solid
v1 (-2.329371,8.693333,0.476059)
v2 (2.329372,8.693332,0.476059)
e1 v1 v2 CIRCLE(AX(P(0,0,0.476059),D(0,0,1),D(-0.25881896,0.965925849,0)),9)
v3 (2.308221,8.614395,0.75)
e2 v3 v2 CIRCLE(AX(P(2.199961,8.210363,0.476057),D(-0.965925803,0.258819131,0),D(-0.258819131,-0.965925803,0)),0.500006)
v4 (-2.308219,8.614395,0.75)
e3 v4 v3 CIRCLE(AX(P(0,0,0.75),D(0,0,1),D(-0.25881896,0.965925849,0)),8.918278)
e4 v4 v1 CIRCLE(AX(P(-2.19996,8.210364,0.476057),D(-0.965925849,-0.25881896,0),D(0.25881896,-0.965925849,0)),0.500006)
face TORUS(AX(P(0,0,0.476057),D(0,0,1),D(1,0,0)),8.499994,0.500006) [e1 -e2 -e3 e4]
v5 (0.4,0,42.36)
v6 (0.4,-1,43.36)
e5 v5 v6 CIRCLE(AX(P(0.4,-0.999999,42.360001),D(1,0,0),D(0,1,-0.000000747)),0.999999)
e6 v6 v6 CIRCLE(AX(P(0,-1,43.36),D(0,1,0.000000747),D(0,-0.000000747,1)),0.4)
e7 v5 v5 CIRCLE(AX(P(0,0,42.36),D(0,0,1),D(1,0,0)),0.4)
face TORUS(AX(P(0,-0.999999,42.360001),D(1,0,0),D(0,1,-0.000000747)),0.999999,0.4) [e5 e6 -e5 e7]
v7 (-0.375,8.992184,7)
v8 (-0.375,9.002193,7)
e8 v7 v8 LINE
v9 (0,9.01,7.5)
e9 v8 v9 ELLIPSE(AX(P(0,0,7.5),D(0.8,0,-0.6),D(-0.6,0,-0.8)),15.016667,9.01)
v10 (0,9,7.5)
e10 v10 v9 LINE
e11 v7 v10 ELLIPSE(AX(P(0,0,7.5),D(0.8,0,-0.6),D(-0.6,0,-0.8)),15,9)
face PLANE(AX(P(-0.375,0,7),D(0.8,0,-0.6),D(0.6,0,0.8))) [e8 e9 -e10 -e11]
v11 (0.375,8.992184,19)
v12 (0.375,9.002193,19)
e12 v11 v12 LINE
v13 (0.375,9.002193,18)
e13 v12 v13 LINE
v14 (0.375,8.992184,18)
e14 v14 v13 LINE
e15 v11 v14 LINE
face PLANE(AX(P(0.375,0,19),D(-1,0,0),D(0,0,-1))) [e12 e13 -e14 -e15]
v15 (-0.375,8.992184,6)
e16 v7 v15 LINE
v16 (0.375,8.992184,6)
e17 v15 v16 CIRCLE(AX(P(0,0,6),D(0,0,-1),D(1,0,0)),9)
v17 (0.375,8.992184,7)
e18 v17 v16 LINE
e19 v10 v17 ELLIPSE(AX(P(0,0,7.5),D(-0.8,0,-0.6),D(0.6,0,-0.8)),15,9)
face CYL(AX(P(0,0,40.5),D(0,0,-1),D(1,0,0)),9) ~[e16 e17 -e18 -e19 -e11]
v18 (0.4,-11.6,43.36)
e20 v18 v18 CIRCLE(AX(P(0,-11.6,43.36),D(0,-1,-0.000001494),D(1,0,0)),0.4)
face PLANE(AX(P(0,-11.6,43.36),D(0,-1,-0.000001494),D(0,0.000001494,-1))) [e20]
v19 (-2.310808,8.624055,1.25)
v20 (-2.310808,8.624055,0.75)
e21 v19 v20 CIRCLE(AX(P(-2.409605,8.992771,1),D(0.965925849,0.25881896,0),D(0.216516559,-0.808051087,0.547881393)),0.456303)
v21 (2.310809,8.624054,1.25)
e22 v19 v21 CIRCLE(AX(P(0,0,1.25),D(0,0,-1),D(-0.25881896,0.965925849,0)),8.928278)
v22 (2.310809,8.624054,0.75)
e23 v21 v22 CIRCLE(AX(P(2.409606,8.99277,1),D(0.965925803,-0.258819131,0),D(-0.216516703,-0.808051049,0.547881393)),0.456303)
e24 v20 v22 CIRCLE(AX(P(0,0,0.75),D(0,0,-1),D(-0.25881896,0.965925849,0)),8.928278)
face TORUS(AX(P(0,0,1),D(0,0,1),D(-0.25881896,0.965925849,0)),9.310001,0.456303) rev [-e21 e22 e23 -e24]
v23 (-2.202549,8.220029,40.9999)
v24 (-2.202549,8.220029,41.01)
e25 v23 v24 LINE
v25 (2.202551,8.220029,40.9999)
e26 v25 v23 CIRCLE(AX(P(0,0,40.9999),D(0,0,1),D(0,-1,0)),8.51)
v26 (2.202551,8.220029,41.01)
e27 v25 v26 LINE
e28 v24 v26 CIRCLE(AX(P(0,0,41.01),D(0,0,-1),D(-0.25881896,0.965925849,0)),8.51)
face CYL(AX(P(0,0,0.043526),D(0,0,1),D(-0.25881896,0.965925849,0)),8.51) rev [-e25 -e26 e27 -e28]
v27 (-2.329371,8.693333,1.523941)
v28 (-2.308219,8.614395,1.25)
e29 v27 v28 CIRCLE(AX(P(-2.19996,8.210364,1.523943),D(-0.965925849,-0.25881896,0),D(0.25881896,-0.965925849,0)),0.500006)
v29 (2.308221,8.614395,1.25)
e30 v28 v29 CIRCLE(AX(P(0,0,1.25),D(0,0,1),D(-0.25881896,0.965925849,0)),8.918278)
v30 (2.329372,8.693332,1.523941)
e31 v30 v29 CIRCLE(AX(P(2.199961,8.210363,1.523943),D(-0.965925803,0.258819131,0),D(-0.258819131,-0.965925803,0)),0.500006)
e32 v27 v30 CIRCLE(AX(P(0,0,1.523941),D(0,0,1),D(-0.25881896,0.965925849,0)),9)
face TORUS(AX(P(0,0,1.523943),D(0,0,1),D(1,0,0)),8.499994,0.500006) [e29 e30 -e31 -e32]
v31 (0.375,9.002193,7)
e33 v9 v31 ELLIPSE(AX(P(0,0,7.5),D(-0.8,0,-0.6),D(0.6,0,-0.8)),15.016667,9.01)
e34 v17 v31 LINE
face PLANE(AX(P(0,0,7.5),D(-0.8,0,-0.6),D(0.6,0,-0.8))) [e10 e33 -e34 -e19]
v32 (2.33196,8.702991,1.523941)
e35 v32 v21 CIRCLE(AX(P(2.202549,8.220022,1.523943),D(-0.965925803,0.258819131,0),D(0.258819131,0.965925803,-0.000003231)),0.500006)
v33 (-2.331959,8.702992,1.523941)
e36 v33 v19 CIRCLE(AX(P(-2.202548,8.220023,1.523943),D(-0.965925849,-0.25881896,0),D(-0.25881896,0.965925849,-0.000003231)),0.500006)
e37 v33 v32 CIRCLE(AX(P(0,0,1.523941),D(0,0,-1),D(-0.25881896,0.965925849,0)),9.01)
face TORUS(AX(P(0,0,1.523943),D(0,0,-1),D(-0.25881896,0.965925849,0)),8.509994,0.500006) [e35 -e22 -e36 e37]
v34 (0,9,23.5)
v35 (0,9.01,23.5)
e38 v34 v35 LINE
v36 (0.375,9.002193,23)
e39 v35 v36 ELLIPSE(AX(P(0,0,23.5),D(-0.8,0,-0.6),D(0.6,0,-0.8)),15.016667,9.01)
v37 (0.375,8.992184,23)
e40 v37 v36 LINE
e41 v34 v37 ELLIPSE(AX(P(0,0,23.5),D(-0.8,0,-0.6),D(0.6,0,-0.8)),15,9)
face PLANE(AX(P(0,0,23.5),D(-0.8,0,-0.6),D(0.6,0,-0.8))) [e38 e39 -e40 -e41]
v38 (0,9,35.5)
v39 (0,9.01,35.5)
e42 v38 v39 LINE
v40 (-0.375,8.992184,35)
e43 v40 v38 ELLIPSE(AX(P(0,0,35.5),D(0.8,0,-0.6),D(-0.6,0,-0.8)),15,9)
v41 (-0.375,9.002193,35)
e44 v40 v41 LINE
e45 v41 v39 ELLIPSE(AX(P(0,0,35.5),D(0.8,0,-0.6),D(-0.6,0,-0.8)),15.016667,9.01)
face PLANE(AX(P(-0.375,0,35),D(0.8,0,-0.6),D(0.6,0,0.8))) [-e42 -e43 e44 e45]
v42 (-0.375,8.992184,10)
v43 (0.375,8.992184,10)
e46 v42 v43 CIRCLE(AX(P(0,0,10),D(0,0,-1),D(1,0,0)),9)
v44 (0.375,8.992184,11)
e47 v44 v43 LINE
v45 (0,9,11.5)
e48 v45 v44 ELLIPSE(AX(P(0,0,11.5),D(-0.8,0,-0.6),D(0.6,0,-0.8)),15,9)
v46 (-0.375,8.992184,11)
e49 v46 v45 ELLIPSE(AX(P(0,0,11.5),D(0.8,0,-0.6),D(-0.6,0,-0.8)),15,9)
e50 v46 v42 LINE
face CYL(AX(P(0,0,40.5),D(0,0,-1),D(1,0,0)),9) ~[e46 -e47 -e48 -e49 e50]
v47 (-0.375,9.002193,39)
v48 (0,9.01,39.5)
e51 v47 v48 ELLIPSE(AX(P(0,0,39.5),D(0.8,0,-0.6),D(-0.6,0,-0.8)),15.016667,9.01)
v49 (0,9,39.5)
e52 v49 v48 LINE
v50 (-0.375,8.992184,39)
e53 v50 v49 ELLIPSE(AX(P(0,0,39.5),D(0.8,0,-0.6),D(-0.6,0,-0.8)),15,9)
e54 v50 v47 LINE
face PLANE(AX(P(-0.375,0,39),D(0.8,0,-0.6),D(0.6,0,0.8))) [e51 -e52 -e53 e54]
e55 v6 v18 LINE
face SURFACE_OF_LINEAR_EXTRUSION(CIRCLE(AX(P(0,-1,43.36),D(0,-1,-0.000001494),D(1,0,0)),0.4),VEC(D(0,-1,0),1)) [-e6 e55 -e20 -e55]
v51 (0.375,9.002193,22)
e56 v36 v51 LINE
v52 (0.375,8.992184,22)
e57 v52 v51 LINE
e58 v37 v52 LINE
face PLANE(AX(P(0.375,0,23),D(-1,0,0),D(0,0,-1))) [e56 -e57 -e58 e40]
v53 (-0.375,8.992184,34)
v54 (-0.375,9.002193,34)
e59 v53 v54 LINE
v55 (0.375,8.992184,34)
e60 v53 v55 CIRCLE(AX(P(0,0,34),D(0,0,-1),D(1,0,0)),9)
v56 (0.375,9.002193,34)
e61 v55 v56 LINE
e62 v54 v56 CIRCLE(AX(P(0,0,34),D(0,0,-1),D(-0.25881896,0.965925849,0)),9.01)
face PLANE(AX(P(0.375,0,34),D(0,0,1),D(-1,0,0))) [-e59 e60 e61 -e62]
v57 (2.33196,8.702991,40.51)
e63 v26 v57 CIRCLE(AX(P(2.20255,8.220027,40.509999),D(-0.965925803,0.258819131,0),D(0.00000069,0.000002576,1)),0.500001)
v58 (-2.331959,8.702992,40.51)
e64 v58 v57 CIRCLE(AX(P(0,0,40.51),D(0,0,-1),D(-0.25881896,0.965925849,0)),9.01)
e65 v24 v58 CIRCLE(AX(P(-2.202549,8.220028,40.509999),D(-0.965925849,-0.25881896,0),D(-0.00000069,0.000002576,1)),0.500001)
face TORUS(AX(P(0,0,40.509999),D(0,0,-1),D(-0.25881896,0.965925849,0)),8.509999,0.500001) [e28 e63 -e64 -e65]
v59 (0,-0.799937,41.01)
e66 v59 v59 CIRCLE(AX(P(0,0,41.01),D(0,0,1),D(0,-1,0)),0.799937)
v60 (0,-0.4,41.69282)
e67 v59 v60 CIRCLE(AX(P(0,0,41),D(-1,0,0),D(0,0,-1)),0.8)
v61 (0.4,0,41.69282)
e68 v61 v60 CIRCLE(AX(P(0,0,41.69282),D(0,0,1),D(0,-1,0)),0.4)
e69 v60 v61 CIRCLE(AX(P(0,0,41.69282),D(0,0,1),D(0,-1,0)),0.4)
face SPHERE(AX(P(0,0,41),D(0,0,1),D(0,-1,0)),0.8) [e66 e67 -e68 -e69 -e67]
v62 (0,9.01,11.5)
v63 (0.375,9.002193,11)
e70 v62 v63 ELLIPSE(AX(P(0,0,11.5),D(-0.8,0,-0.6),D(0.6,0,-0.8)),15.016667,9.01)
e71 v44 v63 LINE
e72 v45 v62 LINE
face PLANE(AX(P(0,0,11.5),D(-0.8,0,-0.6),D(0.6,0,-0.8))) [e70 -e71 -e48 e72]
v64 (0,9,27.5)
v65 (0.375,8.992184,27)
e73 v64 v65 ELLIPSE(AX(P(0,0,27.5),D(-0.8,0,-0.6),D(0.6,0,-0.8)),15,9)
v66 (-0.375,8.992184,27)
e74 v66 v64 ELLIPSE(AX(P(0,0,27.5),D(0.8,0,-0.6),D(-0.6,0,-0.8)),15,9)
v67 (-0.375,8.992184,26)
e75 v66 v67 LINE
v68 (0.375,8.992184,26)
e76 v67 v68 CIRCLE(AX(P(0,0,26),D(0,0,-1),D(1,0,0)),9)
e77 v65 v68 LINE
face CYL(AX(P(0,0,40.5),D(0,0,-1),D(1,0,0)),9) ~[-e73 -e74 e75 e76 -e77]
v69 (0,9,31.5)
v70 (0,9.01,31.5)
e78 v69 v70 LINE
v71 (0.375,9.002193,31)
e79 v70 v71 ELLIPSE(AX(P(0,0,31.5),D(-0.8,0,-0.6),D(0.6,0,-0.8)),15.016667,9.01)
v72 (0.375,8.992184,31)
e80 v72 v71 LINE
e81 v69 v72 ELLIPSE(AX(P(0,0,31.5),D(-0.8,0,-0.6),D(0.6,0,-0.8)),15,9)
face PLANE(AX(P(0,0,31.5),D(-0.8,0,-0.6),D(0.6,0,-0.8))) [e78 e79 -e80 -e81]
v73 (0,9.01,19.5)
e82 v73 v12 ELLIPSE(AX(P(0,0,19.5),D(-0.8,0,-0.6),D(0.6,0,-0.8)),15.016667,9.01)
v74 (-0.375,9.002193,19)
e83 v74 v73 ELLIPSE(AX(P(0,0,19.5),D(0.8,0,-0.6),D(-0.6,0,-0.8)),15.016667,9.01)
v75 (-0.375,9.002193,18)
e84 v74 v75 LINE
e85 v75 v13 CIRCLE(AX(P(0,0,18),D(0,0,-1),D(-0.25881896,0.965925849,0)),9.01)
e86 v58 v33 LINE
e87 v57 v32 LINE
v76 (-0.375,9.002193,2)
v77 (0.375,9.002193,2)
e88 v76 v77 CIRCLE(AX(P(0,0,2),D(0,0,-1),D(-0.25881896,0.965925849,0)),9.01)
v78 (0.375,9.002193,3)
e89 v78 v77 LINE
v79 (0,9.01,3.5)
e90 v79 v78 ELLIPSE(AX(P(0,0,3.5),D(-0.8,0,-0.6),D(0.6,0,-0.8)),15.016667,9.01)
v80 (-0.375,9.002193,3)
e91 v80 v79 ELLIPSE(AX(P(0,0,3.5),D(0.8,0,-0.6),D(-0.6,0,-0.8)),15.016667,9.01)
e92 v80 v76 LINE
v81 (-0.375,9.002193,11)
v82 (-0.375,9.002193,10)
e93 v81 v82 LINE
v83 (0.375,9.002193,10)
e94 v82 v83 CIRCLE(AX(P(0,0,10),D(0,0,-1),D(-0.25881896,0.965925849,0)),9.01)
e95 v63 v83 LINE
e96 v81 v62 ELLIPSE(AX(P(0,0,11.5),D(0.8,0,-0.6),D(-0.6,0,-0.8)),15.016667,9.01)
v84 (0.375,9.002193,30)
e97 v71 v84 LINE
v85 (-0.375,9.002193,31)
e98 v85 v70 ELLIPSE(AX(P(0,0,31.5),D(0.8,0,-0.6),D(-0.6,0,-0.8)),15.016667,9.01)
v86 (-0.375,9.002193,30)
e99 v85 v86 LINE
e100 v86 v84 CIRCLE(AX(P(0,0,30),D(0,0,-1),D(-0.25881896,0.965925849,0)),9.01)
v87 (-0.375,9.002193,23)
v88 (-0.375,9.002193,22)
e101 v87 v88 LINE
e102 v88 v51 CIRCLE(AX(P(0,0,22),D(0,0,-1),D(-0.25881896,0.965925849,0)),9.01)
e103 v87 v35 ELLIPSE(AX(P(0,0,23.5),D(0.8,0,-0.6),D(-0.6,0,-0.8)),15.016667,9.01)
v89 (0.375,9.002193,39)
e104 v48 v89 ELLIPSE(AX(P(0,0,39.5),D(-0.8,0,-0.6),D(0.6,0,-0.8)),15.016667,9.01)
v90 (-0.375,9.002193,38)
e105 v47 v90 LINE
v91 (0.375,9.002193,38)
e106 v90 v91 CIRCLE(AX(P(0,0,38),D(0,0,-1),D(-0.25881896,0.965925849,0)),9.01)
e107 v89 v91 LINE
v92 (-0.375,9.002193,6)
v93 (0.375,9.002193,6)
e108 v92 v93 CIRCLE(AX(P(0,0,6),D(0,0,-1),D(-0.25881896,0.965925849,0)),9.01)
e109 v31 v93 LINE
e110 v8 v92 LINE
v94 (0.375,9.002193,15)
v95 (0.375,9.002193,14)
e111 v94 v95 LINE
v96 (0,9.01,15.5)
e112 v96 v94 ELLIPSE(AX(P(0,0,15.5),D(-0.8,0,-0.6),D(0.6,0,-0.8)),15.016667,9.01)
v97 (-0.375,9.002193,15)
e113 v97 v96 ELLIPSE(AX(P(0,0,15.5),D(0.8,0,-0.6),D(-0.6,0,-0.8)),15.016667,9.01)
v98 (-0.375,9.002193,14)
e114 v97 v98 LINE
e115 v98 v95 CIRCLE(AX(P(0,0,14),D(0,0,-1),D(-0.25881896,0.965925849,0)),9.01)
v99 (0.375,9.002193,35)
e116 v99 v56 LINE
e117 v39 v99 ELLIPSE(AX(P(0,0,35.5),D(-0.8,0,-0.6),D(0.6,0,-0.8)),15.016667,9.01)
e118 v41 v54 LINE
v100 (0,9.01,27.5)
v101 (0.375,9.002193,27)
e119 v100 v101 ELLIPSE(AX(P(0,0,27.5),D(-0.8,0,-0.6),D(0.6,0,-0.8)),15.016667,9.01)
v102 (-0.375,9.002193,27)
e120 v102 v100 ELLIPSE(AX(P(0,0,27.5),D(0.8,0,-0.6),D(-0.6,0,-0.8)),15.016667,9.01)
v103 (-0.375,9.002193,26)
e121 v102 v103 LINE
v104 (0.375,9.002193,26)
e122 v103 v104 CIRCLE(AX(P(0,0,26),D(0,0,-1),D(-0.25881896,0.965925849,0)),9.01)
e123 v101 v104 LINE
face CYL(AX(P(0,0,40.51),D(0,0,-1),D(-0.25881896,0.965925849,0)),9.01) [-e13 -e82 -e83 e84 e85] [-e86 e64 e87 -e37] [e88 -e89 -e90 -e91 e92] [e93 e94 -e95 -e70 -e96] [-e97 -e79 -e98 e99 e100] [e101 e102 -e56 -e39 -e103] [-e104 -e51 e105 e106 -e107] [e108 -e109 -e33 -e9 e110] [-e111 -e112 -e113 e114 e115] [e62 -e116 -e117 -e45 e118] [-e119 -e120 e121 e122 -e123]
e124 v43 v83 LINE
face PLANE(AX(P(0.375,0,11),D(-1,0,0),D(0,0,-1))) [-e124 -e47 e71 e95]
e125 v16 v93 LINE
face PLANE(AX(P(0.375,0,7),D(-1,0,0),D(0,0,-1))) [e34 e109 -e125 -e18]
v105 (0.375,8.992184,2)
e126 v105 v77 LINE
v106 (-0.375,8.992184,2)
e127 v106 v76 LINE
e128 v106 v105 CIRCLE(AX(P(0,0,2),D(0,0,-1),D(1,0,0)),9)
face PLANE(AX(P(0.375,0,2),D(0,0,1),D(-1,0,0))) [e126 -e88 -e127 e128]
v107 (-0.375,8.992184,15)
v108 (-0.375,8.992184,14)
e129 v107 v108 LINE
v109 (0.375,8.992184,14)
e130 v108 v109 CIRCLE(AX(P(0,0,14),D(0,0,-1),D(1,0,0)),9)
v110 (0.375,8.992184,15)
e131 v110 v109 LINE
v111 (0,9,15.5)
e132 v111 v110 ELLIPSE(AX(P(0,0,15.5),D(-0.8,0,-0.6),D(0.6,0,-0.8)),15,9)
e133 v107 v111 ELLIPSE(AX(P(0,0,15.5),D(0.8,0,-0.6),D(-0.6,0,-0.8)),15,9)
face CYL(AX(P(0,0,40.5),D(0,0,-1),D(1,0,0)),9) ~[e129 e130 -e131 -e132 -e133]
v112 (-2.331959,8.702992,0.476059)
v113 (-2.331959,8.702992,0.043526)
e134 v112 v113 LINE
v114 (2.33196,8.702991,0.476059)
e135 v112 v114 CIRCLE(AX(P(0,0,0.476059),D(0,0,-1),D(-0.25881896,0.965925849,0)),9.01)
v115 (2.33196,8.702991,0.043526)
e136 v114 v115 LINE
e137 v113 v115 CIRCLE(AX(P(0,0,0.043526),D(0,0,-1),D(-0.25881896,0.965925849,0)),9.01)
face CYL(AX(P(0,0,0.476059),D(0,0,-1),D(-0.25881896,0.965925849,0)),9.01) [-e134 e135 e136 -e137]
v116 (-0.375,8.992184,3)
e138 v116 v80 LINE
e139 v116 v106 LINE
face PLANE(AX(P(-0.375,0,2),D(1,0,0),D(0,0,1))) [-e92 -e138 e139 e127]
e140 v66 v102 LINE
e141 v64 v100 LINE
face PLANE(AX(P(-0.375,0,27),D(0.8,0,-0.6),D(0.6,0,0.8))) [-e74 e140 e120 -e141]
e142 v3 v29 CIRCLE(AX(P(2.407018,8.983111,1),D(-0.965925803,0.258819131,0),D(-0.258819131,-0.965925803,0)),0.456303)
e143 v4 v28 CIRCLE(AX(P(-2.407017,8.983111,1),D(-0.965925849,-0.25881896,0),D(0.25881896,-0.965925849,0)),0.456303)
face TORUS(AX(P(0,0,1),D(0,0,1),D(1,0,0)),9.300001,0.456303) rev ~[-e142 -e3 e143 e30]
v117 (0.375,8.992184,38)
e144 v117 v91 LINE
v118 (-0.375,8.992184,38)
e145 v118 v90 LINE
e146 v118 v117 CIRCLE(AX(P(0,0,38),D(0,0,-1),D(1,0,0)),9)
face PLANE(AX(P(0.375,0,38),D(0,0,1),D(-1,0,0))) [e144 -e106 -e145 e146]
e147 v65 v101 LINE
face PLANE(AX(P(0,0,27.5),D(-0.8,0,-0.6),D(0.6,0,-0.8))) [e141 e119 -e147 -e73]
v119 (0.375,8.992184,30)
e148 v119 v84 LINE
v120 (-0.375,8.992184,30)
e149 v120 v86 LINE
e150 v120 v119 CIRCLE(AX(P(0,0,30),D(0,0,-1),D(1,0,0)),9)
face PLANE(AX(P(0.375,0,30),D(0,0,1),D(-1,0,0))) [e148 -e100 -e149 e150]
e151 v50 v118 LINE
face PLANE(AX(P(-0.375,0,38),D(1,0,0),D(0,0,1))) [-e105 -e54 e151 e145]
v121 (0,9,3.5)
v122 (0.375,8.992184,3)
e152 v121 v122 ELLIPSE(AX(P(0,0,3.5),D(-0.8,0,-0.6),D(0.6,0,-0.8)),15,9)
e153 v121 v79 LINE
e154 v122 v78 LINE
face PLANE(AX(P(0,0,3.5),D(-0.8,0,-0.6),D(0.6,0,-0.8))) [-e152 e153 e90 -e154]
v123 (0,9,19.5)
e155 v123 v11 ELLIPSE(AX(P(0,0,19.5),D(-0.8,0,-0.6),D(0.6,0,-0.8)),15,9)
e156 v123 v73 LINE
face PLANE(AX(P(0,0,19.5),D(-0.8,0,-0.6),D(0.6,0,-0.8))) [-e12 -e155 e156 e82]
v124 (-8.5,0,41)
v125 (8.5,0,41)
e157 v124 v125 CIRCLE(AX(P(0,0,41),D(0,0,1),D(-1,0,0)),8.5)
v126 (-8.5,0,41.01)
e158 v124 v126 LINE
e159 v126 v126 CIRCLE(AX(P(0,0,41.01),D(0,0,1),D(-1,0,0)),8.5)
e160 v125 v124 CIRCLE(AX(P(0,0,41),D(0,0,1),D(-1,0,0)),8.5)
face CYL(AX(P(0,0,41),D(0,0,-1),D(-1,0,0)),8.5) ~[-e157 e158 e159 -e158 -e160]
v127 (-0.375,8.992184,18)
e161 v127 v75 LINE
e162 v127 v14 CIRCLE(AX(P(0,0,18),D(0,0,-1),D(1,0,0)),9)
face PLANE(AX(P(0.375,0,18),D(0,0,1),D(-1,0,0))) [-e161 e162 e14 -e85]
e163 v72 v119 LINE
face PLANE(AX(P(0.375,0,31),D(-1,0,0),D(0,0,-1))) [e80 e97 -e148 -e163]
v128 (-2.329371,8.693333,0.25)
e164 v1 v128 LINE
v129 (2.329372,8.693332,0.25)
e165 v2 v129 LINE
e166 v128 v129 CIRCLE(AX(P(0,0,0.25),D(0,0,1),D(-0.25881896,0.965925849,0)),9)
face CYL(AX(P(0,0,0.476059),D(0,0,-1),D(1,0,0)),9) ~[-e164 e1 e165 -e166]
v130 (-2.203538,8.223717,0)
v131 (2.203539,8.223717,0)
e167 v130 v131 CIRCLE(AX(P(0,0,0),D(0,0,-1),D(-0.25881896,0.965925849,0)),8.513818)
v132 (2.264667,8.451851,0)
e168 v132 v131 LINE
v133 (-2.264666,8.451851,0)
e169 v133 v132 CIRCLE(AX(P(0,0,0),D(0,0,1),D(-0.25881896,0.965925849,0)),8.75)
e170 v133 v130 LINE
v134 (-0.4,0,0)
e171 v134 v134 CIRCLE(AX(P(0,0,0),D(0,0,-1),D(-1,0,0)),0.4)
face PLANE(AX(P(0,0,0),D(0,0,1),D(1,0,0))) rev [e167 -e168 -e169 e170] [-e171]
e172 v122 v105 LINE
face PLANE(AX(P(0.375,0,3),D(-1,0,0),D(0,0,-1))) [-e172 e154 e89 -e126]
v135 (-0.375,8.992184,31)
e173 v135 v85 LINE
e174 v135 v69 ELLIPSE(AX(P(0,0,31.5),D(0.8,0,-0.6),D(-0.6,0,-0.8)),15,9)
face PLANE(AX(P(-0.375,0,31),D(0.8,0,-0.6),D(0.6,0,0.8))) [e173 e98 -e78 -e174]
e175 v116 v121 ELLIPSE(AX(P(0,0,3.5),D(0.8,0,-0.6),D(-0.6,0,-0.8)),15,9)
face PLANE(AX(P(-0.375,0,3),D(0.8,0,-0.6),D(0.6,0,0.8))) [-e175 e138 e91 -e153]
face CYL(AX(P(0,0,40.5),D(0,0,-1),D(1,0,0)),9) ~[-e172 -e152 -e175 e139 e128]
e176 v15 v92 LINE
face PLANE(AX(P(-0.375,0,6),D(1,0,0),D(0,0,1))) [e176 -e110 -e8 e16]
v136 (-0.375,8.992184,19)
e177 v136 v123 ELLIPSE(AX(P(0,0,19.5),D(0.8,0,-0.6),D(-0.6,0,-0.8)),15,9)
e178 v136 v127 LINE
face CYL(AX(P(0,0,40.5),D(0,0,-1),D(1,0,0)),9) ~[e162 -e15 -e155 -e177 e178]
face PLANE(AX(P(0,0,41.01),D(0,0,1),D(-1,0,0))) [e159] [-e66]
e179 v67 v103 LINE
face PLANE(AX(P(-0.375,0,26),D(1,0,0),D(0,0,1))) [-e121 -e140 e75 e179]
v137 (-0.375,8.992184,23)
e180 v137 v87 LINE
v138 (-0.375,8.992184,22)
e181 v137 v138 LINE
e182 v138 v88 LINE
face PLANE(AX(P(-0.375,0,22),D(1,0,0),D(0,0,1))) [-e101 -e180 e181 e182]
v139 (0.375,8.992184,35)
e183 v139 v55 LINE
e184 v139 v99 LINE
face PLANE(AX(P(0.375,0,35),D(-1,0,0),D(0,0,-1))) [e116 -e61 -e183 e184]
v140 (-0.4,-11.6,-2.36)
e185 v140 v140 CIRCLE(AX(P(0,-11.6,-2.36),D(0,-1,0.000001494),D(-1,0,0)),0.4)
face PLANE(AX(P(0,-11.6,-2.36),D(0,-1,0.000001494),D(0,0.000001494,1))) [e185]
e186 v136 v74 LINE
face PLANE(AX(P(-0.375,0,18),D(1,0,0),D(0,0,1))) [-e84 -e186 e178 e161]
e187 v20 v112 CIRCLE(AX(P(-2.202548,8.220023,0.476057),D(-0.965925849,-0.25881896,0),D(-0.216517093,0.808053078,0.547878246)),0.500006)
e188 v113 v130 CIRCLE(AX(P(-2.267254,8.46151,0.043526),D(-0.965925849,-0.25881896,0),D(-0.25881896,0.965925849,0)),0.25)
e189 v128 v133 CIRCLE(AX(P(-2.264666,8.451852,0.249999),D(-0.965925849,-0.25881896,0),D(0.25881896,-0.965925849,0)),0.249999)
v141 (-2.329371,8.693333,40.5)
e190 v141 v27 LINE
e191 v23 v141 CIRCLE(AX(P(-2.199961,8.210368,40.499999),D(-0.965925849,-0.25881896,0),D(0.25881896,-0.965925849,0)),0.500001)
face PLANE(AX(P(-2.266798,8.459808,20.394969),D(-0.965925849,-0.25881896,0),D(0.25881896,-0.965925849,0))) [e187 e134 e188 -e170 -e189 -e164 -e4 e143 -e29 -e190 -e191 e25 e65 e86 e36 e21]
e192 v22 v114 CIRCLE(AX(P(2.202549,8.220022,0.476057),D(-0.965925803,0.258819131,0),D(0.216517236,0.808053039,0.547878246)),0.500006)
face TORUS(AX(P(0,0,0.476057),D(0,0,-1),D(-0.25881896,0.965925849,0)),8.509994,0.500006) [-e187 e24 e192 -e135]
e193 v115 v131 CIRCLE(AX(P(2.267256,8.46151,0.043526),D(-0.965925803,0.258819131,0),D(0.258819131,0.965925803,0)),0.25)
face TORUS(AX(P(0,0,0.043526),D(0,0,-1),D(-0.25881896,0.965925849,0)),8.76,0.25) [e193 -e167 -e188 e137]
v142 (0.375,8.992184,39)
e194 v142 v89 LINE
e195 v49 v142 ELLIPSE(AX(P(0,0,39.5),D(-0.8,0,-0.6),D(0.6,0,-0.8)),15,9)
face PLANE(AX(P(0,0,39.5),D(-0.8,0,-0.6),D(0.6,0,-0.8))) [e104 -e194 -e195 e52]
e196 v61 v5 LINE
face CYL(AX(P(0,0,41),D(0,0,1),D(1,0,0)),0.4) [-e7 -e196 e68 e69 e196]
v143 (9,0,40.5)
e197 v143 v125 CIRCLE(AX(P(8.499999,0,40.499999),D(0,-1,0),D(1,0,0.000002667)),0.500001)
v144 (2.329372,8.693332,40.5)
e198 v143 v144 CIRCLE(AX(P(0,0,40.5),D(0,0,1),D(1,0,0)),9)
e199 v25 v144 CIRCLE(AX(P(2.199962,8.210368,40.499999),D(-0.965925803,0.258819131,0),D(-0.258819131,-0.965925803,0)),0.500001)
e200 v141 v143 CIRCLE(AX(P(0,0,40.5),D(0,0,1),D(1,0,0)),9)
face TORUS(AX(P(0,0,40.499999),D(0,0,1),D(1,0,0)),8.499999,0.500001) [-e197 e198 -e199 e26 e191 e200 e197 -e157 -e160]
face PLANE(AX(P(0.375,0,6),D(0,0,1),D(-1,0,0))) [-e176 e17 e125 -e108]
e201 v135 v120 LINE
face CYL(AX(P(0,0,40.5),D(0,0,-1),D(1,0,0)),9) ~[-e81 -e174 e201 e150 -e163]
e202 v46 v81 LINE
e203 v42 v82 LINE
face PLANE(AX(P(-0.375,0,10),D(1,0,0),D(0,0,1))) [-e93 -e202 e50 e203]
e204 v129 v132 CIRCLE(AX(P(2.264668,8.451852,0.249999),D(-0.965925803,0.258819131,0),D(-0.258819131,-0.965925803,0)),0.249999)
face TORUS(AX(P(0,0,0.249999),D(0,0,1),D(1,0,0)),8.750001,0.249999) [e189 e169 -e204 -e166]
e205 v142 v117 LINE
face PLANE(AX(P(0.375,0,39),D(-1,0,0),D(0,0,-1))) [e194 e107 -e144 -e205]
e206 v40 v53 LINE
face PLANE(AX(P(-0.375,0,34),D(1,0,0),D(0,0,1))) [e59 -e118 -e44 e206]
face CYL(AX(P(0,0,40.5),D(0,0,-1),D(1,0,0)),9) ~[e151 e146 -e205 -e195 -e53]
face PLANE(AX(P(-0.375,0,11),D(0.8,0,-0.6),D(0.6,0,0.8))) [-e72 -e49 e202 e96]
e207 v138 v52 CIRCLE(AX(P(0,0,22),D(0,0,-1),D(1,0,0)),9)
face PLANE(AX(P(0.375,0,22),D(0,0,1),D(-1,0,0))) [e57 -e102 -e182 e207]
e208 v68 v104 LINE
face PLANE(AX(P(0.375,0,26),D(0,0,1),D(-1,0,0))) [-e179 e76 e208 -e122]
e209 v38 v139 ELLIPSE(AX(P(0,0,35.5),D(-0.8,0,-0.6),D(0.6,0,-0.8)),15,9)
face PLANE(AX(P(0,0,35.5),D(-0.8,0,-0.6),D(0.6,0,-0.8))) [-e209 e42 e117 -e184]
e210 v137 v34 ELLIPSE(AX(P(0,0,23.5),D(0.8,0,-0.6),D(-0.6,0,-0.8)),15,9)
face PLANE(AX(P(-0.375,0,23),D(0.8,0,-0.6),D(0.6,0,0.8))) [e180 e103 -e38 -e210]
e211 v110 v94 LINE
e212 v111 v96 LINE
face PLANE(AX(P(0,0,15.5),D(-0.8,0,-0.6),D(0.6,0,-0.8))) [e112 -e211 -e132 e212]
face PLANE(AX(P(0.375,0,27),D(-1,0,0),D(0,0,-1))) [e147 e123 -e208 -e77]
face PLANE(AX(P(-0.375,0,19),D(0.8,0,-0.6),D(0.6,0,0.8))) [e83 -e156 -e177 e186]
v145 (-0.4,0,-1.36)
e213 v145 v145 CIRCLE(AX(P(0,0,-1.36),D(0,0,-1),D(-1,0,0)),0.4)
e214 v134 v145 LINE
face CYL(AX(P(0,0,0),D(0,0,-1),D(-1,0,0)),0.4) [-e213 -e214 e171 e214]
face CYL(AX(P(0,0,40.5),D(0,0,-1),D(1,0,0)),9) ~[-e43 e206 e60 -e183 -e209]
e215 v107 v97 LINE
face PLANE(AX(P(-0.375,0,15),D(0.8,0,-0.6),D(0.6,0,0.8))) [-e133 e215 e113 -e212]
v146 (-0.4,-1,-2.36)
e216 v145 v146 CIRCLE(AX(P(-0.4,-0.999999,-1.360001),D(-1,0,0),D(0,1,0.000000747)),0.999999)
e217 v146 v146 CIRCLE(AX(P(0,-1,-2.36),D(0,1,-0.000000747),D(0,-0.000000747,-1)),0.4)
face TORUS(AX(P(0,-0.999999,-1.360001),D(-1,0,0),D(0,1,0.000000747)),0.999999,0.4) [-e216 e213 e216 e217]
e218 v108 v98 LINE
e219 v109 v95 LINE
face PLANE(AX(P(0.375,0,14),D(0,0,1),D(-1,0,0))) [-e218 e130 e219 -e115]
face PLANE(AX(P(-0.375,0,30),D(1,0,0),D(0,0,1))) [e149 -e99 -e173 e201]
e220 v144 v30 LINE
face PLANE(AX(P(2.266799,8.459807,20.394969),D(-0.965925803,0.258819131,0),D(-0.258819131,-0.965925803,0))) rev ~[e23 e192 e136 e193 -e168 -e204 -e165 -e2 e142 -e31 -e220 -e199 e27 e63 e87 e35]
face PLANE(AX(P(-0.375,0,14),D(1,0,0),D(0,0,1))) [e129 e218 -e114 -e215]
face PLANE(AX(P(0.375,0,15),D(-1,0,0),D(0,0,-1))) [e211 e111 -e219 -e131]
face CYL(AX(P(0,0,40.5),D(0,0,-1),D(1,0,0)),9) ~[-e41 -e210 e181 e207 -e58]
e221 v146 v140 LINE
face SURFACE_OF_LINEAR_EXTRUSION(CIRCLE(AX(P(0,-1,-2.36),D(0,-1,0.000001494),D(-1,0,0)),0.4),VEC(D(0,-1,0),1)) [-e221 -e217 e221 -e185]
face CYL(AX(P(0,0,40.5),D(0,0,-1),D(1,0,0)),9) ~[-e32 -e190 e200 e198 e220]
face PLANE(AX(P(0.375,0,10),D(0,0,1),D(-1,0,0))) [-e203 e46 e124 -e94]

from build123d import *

# Parameters (mm, degrees)
SKETCH011_R             = 0.4
BODY007_PLACEMENT_ANGLE = 180
REVOLUTION001_ANGLE     = -30
POCKET_DEPTH            = 9.011
LINEARPATTERN_COUNT     = 10
LINEARPATTERN_PITCH     = 4
SKETCH012_R             = 8.5
PAD_DEPTH               = 0.01
BODY008_PLACEMENT_ANGLE = 90


with BuildPart() as lead:
    # AdditivePipe: sweep along a path in Sketch010
    with BuildLine(Plane(origin=(0, 0, 0), x_dir=(0, -1, 0), z_dir=(-1, 0, 0))) as additivepipe_path:
        Line((0, 41), (0, 42.36))
        ThreePointArc((0, 42.36), (0.292893, 43.067107), (1, 43.36))
        Line((1, 43.36), (11.6, 43.36))
    # Sketch011 → AdditivePipe (sweep)
    with BuildSketch(Plane.XY.offset(41)):
        Circle(SKETCH011_R)
    sweep(path=additivepipe_path.line)


with BuildPart() as leadclone:
    # Body007 base: copy of Lead
    add(lead.part)


with BuildPart() as leadclone_1:
    # Body007 placement: moved
    add(leadclone.part.moved(Location((0, 0, 41))).rotate(Axis((0, 0, 41), (0, 1, 0)), BODY007_PLACEMENT_ANGLE))


with BuildPart() as polaritymarking:
    # Sketch005 → Revolution001 (revolve)
    with BuildSketch(Plane(origin=(0, 0, 0), x_dir=(-0.258819, 0.965926, 0), z_dir=(0.965926, 0.258819, 0))):
        with BuildLine():
            Line((8.51, 0.043526), (8.51, 41.01))
            ThreePointArc((8.51, 41.01), (8.863553, 40.863553), (9.01, 40.51))
            Line((9.01, 40.51), (9.01, 1.523941))
            ThreePointArc((9.01, 1.523941), (8.989134, 1.381006), (8.928278, 1.25))
            ThreePointArc((8.928278, 1.25), (8.853698, 1), (8.928278, 0.75))
            ThreePointArc((8.928278, 0.75), (8.989134, 0.618994), (9.01, 0.476059))
            Line((9.01, 0.476059), (9.01, 0.043526))
            ThreePointArc((9.01, 0.043526), (8.76, -0.206474), (8.51, 0.043526))
        make_face()
    revolve(axis=Axis((0, 0, 0), (0, 0, 1)), revolution_arc=REVOLUTION001_ANGLE)

    # Sketch013 → Pocket (cut, through all)
    with BuildSketch(Plane.XZ):
        Polygon((0.375, 2), (-0.375, 2), (-0.375, 3), (0, 3.5), (0.375, 3), align=None)
    pocket = extrude(amount=-POCKET_DEPTH, mode=Mode.SUBTRACT)

    # LinearPattern: Pocket ×10
    with Locations(*[(0, 0, i * LINEARPATTERN_PITCH) for i in range(1, LINEARPATTERN_COUNT)]):
        add(pocket, mode=Mode.SUBTRACT)


with BuildPart() as housing:
    # Sketch → Revolution (revolve)
    with BuildSketch(Plane.XZ):
        with BuildLine():
            Line((0, 41), (8.5, 41))
            ThreePointArc((9, 40.5), (8.853553, 40.853553), (8.5, 41))
            Line((9, 40.5), (9, 1.523941))
            ThreePointArc((8.918278, 1.25), (8.979134, 1.381006), (9, 1.523941))
            ThreePointArc((8.918278, 1.25), (8.843698, 1), (8.918278, 0.75))
            ThreePointArc((9, 0.476059), (8.979134, 0.618994), (8.918278, 0.75))
            Line((9, 0.476059), (9, 0.25))
            ThreePointArc((8.75, 0), (8.926777, 0.073223), (9, 0.25))
            Line((0, 0), (8.75, 0))
            Line((0, 41), (0, 0))
        make_face()
    revolve(axis=Axis((0, 0, 0), (0, 0, 1)))


with BuildPart() as fusion:
    # Sphere → Sphere (revolve)
    with BuildSketch(Plane.XZ):
        with BuildLine():
            ThreePointArc((0, -0.8), (0.8, 0), (0, 0.8))
            Line((0, 0.8), (0, -0.8))
        make_face()
    revolve(axis=Axis((0, 0, 0), (0, 0, 1)))

    # Sketch012 (on ShapeBinder) → Pad (new body)
    with BuildSketch(Plane(origin=(0, 0, 0), x_dir=(0, -1, 0), z_dir=(0, 0, 1))):
        Circle(SKETCH012_R)
    extrude(amount=PAD_DEPTH)


with BuildPart() as fusion_1:
    # Body008 placement: moved
    add(fusion.part.moved(Location((0, 0, 41))).rotate(Axis((0, 0, 41), (0, 0, -1)), BODY008_PLACEMENT_ANGLE))

    # Fusion: union LeadClone, Lead, PolarityMarking, Housing
    add(leadclone_1.part)
    add(lead.part)
    add(polaritymarking.part)
    add(housing.part)


solid = fusion_1.part
